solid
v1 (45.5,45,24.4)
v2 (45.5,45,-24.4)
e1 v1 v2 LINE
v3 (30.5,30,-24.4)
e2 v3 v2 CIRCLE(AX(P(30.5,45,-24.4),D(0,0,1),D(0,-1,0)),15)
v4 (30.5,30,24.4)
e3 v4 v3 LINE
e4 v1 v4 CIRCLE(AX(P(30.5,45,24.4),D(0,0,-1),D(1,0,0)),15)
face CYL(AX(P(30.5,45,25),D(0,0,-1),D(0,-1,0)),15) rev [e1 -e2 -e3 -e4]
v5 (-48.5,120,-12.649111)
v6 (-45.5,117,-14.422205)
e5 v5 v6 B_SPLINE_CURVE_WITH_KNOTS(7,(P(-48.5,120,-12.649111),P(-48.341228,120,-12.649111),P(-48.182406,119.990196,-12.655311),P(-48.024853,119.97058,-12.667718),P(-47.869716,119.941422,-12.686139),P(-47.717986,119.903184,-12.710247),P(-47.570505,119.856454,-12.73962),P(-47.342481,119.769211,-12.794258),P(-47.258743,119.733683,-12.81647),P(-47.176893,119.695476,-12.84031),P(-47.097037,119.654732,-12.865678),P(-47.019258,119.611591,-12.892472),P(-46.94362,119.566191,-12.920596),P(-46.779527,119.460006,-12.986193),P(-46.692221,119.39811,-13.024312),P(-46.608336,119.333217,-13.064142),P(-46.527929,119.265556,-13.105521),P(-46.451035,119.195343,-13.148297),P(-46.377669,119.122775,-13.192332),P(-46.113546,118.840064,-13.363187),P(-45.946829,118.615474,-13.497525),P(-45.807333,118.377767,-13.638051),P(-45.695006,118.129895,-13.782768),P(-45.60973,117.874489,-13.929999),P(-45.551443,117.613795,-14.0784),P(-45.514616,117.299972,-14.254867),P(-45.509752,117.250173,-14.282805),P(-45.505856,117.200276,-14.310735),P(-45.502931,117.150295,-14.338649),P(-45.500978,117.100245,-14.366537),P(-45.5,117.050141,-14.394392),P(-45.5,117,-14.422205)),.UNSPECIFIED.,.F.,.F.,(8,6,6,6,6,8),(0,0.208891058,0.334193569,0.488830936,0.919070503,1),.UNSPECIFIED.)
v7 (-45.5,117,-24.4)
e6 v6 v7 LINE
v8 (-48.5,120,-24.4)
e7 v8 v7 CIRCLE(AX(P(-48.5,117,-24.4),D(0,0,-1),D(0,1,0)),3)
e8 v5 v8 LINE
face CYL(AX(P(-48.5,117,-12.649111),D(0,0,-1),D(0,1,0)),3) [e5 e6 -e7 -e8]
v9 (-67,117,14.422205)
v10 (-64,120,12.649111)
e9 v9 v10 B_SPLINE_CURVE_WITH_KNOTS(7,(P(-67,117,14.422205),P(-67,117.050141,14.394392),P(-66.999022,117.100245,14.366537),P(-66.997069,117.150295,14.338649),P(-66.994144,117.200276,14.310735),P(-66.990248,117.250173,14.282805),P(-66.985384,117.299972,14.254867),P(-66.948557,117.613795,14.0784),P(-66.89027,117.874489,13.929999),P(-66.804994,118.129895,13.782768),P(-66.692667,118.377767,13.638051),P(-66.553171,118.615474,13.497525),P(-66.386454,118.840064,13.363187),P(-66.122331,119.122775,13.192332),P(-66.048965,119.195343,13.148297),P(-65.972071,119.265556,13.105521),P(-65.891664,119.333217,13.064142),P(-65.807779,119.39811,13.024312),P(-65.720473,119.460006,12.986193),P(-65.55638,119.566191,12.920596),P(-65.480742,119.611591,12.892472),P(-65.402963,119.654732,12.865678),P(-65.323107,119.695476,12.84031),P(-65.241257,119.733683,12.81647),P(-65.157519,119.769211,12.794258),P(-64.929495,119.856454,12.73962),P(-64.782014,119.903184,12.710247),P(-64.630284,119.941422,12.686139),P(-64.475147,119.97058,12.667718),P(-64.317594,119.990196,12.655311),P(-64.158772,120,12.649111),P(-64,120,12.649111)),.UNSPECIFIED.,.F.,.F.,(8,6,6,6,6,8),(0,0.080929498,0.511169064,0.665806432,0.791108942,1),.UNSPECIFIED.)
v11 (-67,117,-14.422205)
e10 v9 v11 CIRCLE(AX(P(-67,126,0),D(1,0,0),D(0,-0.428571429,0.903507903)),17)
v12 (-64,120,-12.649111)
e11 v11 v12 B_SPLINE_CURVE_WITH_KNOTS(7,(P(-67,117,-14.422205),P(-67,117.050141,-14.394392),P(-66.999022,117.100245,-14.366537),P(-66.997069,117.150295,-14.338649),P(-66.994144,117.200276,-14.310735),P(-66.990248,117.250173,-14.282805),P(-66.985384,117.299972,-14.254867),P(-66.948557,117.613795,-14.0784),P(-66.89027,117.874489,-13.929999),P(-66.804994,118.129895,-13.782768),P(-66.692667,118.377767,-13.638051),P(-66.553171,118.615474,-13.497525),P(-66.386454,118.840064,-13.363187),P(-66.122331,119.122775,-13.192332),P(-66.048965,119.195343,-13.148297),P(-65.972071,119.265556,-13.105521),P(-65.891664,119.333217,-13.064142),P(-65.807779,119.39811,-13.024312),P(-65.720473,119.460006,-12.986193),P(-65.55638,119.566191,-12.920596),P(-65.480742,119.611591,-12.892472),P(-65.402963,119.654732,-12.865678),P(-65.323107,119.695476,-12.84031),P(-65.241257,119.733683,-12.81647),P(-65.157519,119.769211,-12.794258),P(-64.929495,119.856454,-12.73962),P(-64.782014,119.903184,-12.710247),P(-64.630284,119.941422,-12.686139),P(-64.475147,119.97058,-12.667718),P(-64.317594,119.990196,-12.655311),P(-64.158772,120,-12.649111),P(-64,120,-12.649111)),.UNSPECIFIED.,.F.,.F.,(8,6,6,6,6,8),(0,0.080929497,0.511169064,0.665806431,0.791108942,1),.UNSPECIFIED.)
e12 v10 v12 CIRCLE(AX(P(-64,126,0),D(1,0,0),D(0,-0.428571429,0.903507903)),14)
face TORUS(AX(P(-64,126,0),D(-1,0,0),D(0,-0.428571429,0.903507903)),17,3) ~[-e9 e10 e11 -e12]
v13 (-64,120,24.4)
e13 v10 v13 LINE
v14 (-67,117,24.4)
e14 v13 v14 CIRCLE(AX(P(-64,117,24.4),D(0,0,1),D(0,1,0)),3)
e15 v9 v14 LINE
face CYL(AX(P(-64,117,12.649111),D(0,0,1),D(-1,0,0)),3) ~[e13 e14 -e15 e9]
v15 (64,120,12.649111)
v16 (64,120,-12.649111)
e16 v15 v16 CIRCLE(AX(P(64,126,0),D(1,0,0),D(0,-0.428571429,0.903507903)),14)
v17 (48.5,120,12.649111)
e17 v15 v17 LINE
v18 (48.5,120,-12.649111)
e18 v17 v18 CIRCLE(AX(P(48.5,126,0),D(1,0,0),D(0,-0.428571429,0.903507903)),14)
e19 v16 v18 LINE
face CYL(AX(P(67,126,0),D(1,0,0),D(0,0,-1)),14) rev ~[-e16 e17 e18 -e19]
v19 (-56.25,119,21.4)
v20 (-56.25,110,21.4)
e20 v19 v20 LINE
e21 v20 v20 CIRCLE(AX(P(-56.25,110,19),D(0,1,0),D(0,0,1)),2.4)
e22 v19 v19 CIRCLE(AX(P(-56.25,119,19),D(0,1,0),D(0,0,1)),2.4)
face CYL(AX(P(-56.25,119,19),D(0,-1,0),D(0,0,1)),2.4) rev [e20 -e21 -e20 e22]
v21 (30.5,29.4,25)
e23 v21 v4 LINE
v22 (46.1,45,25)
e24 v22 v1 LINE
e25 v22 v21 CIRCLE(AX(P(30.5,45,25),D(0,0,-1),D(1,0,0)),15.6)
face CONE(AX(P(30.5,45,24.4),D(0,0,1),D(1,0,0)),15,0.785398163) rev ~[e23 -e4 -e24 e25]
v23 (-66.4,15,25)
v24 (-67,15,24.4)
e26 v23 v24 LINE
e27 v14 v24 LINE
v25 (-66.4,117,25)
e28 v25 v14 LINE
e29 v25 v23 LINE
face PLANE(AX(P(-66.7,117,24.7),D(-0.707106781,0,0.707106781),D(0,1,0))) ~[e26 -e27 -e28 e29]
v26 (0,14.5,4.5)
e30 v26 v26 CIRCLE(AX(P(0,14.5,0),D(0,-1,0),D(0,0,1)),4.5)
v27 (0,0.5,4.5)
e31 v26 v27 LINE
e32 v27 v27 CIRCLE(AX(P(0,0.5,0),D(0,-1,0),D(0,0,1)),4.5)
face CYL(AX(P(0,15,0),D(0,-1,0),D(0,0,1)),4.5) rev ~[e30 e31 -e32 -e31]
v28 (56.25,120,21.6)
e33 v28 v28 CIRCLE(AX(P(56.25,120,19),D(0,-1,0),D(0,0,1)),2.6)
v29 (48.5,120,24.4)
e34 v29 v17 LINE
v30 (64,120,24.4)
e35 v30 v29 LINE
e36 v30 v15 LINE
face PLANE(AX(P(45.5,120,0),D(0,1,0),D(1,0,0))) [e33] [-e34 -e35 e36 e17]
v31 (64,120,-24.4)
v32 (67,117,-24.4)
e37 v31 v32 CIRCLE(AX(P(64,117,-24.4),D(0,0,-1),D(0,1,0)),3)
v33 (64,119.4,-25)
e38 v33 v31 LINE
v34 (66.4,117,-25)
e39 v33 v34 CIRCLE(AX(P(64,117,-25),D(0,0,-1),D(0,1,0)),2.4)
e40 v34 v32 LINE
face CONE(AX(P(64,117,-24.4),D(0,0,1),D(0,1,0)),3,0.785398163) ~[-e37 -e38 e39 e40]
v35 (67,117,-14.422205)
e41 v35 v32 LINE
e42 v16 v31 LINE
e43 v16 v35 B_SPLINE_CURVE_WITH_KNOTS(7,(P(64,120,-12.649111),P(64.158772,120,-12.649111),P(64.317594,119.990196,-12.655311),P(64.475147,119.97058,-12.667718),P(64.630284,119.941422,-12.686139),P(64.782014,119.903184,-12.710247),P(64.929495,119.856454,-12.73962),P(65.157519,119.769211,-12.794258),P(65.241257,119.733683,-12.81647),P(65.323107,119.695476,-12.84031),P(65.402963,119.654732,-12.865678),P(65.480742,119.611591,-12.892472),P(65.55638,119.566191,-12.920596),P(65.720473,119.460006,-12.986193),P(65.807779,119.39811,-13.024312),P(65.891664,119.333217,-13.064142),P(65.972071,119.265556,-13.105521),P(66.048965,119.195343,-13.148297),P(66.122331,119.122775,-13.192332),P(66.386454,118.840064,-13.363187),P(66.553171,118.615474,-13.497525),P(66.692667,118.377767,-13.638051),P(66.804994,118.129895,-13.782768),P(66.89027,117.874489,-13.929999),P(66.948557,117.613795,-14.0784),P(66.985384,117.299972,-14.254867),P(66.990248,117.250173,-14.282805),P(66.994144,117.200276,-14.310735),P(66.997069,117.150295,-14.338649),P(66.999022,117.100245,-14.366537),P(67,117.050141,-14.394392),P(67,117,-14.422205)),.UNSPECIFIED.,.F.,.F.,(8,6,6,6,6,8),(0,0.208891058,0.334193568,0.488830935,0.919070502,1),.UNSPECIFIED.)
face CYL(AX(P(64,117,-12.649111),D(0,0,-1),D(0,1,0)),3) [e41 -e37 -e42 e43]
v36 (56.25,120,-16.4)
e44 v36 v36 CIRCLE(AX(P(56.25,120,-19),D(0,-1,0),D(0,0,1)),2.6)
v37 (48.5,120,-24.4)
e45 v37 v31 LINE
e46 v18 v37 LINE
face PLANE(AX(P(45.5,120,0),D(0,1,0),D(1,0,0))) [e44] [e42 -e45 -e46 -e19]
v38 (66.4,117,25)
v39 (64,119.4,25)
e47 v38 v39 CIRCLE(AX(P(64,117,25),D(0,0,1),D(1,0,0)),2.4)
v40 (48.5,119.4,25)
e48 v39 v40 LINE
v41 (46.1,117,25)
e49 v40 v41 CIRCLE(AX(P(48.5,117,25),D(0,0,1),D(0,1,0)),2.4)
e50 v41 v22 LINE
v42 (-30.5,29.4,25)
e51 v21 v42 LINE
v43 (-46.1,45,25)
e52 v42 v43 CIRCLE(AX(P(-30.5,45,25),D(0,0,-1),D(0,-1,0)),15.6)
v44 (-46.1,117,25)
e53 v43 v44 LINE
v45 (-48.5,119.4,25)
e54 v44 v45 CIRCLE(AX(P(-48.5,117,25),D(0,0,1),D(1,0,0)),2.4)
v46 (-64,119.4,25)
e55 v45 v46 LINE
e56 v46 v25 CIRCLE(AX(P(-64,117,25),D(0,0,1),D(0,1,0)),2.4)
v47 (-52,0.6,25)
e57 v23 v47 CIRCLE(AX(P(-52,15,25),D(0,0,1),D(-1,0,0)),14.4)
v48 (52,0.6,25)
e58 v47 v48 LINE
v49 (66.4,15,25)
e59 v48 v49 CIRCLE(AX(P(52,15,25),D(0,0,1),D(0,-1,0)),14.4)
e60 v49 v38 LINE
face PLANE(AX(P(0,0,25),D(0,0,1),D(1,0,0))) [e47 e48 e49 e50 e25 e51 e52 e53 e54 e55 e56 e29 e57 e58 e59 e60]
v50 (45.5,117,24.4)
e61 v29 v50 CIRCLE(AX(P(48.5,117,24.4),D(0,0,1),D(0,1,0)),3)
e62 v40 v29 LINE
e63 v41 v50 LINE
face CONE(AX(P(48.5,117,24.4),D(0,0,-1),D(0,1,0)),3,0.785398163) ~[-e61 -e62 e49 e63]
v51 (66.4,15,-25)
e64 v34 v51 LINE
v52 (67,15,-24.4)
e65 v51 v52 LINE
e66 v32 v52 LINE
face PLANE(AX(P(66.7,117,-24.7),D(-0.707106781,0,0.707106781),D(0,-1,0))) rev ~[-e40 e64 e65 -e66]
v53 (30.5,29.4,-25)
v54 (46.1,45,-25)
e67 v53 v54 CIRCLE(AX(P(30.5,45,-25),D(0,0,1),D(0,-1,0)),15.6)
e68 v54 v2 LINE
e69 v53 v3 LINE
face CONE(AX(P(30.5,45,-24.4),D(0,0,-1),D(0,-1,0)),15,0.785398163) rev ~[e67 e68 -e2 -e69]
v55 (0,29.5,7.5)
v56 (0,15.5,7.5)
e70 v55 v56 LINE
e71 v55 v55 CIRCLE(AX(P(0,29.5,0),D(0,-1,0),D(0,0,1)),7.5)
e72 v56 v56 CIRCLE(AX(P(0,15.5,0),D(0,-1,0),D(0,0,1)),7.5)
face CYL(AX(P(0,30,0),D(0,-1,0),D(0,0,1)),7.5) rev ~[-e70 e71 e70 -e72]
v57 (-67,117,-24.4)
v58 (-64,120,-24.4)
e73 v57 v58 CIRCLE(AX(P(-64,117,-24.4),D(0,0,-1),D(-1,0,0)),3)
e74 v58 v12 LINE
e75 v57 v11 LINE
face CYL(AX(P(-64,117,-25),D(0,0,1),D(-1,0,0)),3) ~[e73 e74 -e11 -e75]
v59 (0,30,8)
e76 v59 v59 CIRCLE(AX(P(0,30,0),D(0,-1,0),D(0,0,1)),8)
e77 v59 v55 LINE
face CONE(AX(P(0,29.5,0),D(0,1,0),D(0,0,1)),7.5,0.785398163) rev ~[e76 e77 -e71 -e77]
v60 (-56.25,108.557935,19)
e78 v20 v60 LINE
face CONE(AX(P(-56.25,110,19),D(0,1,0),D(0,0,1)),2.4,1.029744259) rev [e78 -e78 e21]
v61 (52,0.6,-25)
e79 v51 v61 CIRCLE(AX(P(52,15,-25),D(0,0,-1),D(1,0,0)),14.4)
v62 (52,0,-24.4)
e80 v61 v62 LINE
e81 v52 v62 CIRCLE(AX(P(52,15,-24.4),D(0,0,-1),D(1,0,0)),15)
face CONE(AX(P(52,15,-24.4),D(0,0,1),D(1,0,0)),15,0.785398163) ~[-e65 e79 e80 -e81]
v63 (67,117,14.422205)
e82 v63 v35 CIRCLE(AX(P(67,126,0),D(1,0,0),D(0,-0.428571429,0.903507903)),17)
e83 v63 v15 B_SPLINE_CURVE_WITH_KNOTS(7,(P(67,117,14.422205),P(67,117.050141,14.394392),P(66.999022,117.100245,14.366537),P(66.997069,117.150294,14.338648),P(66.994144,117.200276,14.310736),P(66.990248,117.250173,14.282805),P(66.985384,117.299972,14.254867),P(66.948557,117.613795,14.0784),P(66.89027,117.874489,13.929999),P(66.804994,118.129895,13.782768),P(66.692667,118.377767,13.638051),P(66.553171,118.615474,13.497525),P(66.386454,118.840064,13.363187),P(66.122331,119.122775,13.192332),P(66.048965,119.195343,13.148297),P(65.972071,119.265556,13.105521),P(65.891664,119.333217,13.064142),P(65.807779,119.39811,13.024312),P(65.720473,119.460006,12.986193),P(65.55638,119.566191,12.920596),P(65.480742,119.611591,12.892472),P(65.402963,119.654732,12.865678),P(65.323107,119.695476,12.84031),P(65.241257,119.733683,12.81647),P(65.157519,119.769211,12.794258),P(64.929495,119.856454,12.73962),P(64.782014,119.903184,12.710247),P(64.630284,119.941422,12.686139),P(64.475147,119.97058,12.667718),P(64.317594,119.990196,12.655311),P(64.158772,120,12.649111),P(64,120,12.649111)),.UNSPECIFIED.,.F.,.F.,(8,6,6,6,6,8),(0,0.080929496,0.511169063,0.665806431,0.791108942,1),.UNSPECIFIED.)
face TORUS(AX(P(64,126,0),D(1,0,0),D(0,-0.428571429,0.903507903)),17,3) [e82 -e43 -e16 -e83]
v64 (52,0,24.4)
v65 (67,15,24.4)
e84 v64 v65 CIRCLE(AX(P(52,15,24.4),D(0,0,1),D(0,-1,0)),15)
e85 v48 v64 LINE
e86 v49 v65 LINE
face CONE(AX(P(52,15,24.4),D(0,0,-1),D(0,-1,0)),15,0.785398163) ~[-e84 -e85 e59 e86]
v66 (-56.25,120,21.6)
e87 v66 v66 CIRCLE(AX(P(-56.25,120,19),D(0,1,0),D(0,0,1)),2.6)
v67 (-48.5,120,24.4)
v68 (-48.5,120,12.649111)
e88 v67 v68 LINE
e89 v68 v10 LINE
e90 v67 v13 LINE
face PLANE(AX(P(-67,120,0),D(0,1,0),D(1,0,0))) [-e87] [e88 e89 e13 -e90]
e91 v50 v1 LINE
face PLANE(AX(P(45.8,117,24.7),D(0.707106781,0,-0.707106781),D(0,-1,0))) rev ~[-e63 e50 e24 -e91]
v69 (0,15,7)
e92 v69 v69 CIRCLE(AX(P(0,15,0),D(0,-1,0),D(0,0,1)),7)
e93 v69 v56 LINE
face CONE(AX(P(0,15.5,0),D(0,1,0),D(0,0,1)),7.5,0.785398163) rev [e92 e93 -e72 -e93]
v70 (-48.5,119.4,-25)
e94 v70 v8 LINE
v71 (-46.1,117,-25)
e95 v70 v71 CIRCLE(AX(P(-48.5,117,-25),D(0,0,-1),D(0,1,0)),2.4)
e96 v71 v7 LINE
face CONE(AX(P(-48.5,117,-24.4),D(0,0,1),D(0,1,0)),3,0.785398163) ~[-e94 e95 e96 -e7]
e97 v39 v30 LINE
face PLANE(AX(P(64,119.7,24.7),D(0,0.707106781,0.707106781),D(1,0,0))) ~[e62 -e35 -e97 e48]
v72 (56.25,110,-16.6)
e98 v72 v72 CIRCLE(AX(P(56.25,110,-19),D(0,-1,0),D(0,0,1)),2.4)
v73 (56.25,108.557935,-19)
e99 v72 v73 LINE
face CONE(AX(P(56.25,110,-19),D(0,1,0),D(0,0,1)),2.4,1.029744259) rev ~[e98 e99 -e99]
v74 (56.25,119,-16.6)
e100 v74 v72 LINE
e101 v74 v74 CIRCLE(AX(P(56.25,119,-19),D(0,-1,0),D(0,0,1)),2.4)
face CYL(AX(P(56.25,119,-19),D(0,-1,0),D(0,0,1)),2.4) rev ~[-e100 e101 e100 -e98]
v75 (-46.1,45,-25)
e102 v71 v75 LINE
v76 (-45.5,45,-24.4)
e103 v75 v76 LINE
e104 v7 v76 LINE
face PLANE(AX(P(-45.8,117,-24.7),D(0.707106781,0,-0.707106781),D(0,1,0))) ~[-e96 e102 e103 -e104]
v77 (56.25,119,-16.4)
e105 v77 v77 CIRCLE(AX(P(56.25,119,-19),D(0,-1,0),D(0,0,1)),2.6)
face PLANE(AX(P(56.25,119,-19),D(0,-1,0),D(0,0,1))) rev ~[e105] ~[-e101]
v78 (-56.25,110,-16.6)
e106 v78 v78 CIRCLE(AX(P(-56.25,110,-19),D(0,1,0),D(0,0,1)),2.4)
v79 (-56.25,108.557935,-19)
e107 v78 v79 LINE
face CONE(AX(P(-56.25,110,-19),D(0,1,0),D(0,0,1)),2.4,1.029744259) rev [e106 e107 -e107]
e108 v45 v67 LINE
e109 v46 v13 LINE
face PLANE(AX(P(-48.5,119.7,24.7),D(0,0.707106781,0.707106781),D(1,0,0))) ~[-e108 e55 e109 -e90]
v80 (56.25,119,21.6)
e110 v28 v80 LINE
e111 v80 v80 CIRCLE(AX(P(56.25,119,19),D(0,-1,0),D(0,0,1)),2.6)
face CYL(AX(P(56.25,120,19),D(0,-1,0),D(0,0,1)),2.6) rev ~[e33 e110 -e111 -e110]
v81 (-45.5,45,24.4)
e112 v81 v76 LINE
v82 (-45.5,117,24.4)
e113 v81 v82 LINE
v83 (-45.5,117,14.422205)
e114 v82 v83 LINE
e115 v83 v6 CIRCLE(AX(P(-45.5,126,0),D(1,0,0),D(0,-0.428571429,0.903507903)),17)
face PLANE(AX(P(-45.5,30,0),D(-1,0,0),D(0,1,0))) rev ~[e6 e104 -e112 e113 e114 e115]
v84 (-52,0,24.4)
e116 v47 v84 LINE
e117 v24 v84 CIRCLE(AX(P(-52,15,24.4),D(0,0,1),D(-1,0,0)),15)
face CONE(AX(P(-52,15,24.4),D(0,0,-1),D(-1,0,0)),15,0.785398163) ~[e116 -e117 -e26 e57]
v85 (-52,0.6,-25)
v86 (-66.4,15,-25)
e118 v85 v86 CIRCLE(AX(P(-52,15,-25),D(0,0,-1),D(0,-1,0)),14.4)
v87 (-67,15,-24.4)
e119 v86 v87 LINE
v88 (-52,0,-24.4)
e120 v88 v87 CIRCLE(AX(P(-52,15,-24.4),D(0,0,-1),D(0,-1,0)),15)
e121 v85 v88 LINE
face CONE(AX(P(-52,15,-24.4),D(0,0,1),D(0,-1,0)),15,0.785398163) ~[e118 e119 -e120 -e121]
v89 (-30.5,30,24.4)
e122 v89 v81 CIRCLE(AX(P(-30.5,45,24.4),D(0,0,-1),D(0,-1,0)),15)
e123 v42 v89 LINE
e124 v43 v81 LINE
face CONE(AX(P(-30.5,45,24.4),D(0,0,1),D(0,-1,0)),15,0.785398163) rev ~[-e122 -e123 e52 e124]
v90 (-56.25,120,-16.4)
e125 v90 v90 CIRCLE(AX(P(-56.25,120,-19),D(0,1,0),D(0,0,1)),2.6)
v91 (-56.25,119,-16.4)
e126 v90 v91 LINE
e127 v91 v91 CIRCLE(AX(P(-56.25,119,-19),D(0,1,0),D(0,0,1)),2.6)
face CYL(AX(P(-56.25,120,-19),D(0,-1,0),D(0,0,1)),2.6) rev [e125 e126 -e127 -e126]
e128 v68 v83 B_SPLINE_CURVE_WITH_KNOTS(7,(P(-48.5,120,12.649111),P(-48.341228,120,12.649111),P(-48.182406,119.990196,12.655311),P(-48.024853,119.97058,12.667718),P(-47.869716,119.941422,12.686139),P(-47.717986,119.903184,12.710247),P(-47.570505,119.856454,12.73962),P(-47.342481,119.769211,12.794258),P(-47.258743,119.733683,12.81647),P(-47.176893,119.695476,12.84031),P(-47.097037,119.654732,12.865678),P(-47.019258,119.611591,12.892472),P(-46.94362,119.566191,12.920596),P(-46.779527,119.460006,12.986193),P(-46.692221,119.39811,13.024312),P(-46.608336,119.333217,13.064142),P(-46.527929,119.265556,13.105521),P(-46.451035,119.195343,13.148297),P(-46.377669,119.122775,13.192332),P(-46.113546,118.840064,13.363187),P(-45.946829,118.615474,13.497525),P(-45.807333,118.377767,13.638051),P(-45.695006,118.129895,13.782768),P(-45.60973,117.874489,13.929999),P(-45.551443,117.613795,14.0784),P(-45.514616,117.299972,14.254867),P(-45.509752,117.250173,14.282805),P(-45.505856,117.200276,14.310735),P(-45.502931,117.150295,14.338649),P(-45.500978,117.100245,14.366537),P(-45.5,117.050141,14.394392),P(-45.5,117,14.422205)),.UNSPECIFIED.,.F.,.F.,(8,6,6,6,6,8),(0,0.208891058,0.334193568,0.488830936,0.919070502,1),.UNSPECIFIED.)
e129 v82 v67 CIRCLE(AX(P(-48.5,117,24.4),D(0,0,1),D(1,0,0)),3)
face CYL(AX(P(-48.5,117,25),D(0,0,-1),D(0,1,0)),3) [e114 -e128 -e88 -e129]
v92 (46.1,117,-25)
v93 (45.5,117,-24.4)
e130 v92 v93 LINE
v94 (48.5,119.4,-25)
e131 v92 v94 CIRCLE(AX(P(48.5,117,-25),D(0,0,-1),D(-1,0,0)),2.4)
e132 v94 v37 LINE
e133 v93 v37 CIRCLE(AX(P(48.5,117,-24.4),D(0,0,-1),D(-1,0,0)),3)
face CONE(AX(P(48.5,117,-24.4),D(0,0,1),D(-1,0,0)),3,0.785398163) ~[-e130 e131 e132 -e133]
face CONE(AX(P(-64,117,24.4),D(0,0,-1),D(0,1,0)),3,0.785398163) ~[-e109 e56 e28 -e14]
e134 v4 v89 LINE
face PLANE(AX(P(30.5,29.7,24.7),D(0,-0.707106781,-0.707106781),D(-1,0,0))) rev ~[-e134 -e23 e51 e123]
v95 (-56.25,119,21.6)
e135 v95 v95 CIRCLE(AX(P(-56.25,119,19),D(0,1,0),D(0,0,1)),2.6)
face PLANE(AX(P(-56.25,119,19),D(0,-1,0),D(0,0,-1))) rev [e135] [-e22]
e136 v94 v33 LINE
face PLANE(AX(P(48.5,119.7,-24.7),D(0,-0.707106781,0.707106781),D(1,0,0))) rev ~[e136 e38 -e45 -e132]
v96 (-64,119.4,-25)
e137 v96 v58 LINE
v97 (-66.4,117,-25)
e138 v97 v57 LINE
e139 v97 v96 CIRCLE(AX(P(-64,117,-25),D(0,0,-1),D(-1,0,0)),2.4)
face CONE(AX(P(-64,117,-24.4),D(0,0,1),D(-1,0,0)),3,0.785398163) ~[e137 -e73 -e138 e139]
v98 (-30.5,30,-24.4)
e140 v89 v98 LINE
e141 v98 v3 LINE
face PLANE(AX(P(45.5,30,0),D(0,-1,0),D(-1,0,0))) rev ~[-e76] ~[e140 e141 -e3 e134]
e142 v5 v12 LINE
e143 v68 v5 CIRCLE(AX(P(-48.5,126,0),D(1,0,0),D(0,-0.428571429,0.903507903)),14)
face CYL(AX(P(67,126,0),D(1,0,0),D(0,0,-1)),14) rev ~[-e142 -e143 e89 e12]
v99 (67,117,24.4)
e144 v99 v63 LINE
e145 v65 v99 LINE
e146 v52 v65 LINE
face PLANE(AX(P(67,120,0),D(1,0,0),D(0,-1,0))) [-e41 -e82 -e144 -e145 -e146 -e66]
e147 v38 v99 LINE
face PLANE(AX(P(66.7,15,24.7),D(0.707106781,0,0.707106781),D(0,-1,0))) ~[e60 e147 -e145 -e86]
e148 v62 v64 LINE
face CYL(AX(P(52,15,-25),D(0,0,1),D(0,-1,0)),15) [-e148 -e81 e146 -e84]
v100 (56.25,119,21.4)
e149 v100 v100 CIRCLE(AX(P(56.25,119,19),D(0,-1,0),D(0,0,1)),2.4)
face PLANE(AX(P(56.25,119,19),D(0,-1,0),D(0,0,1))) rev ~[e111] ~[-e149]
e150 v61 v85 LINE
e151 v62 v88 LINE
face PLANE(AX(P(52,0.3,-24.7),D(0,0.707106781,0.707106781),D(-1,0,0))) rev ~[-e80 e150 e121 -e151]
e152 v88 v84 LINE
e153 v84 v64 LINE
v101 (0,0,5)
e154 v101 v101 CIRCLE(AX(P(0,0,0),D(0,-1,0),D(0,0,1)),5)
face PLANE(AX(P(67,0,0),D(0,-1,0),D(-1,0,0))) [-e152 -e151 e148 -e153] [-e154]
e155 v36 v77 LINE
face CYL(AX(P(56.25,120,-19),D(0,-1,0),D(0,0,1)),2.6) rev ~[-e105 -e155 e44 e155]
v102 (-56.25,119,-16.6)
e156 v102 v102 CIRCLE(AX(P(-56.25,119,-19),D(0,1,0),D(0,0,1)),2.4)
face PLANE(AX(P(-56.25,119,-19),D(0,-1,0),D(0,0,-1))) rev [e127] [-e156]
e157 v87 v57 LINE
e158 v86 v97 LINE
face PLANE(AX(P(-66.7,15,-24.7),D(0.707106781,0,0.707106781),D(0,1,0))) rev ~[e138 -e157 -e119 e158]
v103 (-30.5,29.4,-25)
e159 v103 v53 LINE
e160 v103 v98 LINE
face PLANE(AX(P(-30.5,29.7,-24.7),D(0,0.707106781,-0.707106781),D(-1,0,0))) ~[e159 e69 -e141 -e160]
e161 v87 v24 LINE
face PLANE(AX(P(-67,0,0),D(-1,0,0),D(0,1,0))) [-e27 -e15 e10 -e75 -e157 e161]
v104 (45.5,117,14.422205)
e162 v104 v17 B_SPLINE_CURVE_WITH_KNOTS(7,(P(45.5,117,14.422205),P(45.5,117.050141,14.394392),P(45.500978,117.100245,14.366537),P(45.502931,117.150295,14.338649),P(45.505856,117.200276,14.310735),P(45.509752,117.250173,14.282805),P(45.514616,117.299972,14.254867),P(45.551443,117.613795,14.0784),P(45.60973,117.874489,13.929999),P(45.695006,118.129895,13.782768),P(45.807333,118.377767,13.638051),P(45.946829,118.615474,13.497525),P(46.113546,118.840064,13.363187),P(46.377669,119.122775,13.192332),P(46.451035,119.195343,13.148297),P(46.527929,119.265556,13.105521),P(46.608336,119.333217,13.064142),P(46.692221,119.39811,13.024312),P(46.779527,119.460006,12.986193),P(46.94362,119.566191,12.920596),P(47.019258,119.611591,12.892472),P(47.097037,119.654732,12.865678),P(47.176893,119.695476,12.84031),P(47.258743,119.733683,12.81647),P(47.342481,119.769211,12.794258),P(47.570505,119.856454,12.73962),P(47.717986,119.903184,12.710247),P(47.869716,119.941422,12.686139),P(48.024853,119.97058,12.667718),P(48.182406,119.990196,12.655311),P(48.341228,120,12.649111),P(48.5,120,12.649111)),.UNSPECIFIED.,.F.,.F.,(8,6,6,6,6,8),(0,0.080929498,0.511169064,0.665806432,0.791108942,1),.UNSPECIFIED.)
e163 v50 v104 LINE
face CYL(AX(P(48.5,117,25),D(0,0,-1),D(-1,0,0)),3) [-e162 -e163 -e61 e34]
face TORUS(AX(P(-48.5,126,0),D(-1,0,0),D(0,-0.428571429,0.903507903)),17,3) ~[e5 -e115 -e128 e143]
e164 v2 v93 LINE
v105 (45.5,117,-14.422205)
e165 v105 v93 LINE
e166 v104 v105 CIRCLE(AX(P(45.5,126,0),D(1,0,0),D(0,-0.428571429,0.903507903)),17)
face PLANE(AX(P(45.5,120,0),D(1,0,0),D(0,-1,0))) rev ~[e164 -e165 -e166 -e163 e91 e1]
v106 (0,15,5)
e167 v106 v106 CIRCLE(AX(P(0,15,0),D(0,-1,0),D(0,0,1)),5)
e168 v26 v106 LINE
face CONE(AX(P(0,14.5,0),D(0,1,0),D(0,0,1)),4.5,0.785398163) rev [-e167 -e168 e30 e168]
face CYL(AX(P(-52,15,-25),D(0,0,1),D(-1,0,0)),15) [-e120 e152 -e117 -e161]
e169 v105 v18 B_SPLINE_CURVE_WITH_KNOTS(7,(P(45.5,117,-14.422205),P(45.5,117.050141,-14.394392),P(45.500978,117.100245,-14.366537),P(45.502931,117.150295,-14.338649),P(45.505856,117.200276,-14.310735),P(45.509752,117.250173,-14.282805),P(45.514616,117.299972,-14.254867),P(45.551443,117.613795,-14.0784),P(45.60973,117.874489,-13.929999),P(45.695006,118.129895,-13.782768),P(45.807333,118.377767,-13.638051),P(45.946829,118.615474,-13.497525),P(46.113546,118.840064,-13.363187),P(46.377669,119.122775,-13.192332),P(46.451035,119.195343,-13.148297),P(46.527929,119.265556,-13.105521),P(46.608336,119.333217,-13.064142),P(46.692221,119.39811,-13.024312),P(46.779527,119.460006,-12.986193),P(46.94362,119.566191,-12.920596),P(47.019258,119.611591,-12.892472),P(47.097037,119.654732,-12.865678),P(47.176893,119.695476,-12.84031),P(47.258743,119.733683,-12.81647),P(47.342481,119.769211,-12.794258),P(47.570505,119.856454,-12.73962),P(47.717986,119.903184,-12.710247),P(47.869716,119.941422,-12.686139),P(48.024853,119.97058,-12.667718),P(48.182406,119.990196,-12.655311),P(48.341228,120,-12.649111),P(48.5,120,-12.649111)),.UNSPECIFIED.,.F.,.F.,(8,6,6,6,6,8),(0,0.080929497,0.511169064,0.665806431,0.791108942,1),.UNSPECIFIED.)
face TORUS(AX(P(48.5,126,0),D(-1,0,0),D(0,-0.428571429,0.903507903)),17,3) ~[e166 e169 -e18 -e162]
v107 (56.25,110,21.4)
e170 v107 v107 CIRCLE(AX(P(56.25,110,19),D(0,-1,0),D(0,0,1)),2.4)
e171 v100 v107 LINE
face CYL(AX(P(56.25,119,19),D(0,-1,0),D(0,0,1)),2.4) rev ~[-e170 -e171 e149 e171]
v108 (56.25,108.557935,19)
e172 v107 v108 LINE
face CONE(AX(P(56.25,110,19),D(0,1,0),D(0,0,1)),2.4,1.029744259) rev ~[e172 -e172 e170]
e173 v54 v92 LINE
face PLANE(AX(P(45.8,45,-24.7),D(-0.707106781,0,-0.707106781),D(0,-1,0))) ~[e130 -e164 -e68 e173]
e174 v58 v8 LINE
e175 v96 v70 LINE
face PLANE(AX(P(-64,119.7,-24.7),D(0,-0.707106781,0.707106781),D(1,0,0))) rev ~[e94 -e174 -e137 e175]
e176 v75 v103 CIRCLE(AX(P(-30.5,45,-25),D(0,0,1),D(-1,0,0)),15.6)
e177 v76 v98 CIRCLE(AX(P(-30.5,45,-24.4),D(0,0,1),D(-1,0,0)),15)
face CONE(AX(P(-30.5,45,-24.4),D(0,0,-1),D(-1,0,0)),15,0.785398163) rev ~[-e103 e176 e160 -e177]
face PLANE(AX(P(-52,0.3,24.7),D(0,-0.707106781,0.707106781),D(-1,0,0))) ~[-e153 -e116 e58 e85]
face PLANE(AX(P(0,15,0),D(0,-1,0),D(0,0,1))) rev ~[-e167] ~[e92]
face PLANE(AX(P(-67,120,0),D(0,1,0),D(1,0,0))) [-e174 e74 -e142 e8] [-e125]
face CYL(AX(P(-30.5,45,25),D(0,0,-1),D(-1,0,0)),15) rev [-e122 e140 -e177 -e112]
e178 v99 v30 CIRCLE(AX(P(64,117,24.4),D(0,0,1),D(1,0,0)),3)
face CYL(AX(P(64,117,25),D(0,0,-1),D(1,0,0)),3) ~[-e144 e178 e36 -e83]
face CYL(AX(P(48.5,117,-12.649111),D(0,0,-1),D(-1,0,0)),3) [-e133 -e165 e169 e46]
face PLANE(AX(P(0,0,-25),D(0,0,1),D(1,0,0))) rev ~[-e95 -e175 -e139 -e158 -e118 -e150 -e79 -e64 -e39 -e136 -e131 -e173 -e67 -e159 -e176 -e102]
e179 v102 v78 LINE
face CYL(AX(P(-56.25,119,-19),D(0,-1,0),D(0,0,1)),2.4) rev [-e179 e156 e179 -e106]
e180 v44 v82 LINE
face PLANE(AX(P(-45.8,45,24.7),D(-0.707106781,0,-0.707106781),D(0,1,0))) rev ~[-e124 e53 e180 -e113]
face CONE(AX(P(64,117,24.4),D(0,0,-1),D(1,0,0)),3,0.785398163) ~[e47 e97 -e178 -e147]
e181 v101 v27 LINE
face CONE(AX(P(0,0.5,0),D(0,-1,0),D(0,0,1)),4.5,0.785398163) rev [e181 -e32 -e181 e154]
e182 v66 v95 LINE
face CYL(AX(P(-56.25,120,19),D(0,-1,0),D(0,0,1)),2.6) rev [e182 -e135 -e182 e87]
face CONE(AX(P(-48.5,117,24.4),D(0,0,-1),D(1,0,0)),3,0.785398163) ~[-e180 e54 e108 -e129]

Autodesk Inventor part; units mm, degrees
ref_plane "YZ Plane" through (0, 0, 0) normal (1, 0, 0) x (0, 1, 0)
ref_plane "XZ Plane" through (0, 0, 0) normal (0, 1, 0) x (-1, 0, 0)
ref_plane "XY Plane" through (0, 0, 0) normal (0, 0, 1) x (1, 0, 0)
sketch "Sketch1" plane through (0, 0, 0) normal (0, 0, 1) x (1, 0, 0)
  line L0 (-67, 120) -> (67, 120)
  line L1 (67, 120) -> (67, 0)
  line L2 (67, 0) -> (-67, 0)
  line L3 (-67, 0) -> (-67, 120)
  line L4 (-45.5, 120) -> (45.5, 120)
  line L5 (45.5, 120) -> (45.5, 30)
  line L6 (45.5, 30) -> (-45.5, 30)
  line L7 (-45.5, 30) -> (-45.5, 120)
  point P0 (0, 0)
  point P1 (0, 0)
  point P2 (0, 30)
  dimension "d0" = 134
  dimension "d1" = 120
  dimension "d2" = 91
  dimension "d3" = 90
extrude "Extrusion1" add sketch "Sketch1" along normal mid plane 50 contours L0 L7 L6 L5 L1 L2 L3
sketch "Sketch2" plane through (-45.5, 30, -25) normal (0, 1, 0) x (1, 0, 0)
  point P0 (45.5, -25)
  point P1 (45.5, -25)
hole "Hole1" at (0, 30, 0) direction (0, -1, 0) diameter 9 end through all counterbore diameter 15 counterbore depth 15
sketch "Sketch3" plane through (67, 0, 25) normal (1, 0, 0) x (0, 0, -1)
  line L0 (50, 120) -> (0, 120) projected
  circle A0 centre (25, 126) radius 14
  point P0 (25, 0)
  point P1 (12.3509, 120)
  point P2 (37.6491, 120)
  dimension "d16" = 28
  dimension "d17" = 6
extrude "Extrusion2" cut sketch "Sketch3" along normal through all both and the other way through all contours A0 L0 picked at (25, 117.3333)
fillet "Fillet1" radius 15 4 edges at (67, 0, 0) (-67, 0, 0) (-45.5, 30, 0) (45.5, 30, 0)
fillet "Fillet2" radius 3 12 edges at (-45.5, 120, -18.8246) (-67, 120, -18.8246) (-67, 120, 18.8246) (-45.5, 120, 18.8246) (45.5, 120, -18.8246) (67, 120, -18.8246) (67, 120, 18.8246) (45.5, 120, 18.8246) (45.5, 112, 0) (67, 112, 0) (-45.5, 112, 0) (-67, 112, 0)
chamfer "Chamfer1" distance 0.6 angle 45 28 edges at (-45.5, 81, 25) (-46.3787, 119.1213, 25) (-56.25, 120, 25) (-66.1213, 119.1213, 25) (-67, 66, 25) (-62.6066, 4.3934, 25) (0, 0, 25) (62.6066, 4.3934, 25) (67, 66, 25) (66.1213, 119.1213, 25) (56.25, 120, 25) (46.3787, 119.1213, 25) (45.5, 81, 25) (0, 30, 25) (67, 66, -25) (62.6066, 4.3934, -25) (0, 0, -25) (-62.6066, 4.3934, -25) (-67, 66, -25) (-66.1213, 119.1213, -25) (-56.25, 120, -25) (-46.3787, 119.1213, -25) (-45.5, 81, -25) (0, 30, -25) (45.5, 81, -25) (46.3787, 119.1213, -25) (56.25, 120, -25) (66.1213, 119.1213, -25)
sketch "Sketch4" plane through (48.5, 120, -12.6491) normal (0, 1, 0) x (1, 0, 0)
  line L0 (7.75, -31.6491) -> (7.75, 6.3509) construction
  line L1 (15.5, -37.0491) -> (0, -37.0491) projected
  point P0 (-48.5, -12.6491)
  point P1 (7.75, -37.0491)
  point P2 (7.75, -12.6491)
  dimension "d30" = 38
hole "Hole2" at (56.25, 120, -19) at (56.25, 120, 19) direction (0, -1, 0) diameter 4.8 depth 10 tip angle 118 counterbore diameter 5.2 counterbore depth 1
mirror "Mirror1" about plane through (0, 0, 0) normal (1, 0, 0) of "Hole2"
chamfer "Chamfer2" distance 0.5 angle 45 4 edges at (0, 30, -7.5) (0, 0, -4.5) (0, 15, -4.5) (0, 15, -7.5)
equation "\"d0\" = width"
equation "\"d1\" = hight"
equation "\"d2\" = gap"
equation "\"d3\" = verticalgap"
equation "\"width\" = 134"
equation "\"hight\" = 120"
equation "\"gap\" = 91"
equation "\"verticalgap\" = 90"
properties part number "pld-support" material "ABS Plastic"
